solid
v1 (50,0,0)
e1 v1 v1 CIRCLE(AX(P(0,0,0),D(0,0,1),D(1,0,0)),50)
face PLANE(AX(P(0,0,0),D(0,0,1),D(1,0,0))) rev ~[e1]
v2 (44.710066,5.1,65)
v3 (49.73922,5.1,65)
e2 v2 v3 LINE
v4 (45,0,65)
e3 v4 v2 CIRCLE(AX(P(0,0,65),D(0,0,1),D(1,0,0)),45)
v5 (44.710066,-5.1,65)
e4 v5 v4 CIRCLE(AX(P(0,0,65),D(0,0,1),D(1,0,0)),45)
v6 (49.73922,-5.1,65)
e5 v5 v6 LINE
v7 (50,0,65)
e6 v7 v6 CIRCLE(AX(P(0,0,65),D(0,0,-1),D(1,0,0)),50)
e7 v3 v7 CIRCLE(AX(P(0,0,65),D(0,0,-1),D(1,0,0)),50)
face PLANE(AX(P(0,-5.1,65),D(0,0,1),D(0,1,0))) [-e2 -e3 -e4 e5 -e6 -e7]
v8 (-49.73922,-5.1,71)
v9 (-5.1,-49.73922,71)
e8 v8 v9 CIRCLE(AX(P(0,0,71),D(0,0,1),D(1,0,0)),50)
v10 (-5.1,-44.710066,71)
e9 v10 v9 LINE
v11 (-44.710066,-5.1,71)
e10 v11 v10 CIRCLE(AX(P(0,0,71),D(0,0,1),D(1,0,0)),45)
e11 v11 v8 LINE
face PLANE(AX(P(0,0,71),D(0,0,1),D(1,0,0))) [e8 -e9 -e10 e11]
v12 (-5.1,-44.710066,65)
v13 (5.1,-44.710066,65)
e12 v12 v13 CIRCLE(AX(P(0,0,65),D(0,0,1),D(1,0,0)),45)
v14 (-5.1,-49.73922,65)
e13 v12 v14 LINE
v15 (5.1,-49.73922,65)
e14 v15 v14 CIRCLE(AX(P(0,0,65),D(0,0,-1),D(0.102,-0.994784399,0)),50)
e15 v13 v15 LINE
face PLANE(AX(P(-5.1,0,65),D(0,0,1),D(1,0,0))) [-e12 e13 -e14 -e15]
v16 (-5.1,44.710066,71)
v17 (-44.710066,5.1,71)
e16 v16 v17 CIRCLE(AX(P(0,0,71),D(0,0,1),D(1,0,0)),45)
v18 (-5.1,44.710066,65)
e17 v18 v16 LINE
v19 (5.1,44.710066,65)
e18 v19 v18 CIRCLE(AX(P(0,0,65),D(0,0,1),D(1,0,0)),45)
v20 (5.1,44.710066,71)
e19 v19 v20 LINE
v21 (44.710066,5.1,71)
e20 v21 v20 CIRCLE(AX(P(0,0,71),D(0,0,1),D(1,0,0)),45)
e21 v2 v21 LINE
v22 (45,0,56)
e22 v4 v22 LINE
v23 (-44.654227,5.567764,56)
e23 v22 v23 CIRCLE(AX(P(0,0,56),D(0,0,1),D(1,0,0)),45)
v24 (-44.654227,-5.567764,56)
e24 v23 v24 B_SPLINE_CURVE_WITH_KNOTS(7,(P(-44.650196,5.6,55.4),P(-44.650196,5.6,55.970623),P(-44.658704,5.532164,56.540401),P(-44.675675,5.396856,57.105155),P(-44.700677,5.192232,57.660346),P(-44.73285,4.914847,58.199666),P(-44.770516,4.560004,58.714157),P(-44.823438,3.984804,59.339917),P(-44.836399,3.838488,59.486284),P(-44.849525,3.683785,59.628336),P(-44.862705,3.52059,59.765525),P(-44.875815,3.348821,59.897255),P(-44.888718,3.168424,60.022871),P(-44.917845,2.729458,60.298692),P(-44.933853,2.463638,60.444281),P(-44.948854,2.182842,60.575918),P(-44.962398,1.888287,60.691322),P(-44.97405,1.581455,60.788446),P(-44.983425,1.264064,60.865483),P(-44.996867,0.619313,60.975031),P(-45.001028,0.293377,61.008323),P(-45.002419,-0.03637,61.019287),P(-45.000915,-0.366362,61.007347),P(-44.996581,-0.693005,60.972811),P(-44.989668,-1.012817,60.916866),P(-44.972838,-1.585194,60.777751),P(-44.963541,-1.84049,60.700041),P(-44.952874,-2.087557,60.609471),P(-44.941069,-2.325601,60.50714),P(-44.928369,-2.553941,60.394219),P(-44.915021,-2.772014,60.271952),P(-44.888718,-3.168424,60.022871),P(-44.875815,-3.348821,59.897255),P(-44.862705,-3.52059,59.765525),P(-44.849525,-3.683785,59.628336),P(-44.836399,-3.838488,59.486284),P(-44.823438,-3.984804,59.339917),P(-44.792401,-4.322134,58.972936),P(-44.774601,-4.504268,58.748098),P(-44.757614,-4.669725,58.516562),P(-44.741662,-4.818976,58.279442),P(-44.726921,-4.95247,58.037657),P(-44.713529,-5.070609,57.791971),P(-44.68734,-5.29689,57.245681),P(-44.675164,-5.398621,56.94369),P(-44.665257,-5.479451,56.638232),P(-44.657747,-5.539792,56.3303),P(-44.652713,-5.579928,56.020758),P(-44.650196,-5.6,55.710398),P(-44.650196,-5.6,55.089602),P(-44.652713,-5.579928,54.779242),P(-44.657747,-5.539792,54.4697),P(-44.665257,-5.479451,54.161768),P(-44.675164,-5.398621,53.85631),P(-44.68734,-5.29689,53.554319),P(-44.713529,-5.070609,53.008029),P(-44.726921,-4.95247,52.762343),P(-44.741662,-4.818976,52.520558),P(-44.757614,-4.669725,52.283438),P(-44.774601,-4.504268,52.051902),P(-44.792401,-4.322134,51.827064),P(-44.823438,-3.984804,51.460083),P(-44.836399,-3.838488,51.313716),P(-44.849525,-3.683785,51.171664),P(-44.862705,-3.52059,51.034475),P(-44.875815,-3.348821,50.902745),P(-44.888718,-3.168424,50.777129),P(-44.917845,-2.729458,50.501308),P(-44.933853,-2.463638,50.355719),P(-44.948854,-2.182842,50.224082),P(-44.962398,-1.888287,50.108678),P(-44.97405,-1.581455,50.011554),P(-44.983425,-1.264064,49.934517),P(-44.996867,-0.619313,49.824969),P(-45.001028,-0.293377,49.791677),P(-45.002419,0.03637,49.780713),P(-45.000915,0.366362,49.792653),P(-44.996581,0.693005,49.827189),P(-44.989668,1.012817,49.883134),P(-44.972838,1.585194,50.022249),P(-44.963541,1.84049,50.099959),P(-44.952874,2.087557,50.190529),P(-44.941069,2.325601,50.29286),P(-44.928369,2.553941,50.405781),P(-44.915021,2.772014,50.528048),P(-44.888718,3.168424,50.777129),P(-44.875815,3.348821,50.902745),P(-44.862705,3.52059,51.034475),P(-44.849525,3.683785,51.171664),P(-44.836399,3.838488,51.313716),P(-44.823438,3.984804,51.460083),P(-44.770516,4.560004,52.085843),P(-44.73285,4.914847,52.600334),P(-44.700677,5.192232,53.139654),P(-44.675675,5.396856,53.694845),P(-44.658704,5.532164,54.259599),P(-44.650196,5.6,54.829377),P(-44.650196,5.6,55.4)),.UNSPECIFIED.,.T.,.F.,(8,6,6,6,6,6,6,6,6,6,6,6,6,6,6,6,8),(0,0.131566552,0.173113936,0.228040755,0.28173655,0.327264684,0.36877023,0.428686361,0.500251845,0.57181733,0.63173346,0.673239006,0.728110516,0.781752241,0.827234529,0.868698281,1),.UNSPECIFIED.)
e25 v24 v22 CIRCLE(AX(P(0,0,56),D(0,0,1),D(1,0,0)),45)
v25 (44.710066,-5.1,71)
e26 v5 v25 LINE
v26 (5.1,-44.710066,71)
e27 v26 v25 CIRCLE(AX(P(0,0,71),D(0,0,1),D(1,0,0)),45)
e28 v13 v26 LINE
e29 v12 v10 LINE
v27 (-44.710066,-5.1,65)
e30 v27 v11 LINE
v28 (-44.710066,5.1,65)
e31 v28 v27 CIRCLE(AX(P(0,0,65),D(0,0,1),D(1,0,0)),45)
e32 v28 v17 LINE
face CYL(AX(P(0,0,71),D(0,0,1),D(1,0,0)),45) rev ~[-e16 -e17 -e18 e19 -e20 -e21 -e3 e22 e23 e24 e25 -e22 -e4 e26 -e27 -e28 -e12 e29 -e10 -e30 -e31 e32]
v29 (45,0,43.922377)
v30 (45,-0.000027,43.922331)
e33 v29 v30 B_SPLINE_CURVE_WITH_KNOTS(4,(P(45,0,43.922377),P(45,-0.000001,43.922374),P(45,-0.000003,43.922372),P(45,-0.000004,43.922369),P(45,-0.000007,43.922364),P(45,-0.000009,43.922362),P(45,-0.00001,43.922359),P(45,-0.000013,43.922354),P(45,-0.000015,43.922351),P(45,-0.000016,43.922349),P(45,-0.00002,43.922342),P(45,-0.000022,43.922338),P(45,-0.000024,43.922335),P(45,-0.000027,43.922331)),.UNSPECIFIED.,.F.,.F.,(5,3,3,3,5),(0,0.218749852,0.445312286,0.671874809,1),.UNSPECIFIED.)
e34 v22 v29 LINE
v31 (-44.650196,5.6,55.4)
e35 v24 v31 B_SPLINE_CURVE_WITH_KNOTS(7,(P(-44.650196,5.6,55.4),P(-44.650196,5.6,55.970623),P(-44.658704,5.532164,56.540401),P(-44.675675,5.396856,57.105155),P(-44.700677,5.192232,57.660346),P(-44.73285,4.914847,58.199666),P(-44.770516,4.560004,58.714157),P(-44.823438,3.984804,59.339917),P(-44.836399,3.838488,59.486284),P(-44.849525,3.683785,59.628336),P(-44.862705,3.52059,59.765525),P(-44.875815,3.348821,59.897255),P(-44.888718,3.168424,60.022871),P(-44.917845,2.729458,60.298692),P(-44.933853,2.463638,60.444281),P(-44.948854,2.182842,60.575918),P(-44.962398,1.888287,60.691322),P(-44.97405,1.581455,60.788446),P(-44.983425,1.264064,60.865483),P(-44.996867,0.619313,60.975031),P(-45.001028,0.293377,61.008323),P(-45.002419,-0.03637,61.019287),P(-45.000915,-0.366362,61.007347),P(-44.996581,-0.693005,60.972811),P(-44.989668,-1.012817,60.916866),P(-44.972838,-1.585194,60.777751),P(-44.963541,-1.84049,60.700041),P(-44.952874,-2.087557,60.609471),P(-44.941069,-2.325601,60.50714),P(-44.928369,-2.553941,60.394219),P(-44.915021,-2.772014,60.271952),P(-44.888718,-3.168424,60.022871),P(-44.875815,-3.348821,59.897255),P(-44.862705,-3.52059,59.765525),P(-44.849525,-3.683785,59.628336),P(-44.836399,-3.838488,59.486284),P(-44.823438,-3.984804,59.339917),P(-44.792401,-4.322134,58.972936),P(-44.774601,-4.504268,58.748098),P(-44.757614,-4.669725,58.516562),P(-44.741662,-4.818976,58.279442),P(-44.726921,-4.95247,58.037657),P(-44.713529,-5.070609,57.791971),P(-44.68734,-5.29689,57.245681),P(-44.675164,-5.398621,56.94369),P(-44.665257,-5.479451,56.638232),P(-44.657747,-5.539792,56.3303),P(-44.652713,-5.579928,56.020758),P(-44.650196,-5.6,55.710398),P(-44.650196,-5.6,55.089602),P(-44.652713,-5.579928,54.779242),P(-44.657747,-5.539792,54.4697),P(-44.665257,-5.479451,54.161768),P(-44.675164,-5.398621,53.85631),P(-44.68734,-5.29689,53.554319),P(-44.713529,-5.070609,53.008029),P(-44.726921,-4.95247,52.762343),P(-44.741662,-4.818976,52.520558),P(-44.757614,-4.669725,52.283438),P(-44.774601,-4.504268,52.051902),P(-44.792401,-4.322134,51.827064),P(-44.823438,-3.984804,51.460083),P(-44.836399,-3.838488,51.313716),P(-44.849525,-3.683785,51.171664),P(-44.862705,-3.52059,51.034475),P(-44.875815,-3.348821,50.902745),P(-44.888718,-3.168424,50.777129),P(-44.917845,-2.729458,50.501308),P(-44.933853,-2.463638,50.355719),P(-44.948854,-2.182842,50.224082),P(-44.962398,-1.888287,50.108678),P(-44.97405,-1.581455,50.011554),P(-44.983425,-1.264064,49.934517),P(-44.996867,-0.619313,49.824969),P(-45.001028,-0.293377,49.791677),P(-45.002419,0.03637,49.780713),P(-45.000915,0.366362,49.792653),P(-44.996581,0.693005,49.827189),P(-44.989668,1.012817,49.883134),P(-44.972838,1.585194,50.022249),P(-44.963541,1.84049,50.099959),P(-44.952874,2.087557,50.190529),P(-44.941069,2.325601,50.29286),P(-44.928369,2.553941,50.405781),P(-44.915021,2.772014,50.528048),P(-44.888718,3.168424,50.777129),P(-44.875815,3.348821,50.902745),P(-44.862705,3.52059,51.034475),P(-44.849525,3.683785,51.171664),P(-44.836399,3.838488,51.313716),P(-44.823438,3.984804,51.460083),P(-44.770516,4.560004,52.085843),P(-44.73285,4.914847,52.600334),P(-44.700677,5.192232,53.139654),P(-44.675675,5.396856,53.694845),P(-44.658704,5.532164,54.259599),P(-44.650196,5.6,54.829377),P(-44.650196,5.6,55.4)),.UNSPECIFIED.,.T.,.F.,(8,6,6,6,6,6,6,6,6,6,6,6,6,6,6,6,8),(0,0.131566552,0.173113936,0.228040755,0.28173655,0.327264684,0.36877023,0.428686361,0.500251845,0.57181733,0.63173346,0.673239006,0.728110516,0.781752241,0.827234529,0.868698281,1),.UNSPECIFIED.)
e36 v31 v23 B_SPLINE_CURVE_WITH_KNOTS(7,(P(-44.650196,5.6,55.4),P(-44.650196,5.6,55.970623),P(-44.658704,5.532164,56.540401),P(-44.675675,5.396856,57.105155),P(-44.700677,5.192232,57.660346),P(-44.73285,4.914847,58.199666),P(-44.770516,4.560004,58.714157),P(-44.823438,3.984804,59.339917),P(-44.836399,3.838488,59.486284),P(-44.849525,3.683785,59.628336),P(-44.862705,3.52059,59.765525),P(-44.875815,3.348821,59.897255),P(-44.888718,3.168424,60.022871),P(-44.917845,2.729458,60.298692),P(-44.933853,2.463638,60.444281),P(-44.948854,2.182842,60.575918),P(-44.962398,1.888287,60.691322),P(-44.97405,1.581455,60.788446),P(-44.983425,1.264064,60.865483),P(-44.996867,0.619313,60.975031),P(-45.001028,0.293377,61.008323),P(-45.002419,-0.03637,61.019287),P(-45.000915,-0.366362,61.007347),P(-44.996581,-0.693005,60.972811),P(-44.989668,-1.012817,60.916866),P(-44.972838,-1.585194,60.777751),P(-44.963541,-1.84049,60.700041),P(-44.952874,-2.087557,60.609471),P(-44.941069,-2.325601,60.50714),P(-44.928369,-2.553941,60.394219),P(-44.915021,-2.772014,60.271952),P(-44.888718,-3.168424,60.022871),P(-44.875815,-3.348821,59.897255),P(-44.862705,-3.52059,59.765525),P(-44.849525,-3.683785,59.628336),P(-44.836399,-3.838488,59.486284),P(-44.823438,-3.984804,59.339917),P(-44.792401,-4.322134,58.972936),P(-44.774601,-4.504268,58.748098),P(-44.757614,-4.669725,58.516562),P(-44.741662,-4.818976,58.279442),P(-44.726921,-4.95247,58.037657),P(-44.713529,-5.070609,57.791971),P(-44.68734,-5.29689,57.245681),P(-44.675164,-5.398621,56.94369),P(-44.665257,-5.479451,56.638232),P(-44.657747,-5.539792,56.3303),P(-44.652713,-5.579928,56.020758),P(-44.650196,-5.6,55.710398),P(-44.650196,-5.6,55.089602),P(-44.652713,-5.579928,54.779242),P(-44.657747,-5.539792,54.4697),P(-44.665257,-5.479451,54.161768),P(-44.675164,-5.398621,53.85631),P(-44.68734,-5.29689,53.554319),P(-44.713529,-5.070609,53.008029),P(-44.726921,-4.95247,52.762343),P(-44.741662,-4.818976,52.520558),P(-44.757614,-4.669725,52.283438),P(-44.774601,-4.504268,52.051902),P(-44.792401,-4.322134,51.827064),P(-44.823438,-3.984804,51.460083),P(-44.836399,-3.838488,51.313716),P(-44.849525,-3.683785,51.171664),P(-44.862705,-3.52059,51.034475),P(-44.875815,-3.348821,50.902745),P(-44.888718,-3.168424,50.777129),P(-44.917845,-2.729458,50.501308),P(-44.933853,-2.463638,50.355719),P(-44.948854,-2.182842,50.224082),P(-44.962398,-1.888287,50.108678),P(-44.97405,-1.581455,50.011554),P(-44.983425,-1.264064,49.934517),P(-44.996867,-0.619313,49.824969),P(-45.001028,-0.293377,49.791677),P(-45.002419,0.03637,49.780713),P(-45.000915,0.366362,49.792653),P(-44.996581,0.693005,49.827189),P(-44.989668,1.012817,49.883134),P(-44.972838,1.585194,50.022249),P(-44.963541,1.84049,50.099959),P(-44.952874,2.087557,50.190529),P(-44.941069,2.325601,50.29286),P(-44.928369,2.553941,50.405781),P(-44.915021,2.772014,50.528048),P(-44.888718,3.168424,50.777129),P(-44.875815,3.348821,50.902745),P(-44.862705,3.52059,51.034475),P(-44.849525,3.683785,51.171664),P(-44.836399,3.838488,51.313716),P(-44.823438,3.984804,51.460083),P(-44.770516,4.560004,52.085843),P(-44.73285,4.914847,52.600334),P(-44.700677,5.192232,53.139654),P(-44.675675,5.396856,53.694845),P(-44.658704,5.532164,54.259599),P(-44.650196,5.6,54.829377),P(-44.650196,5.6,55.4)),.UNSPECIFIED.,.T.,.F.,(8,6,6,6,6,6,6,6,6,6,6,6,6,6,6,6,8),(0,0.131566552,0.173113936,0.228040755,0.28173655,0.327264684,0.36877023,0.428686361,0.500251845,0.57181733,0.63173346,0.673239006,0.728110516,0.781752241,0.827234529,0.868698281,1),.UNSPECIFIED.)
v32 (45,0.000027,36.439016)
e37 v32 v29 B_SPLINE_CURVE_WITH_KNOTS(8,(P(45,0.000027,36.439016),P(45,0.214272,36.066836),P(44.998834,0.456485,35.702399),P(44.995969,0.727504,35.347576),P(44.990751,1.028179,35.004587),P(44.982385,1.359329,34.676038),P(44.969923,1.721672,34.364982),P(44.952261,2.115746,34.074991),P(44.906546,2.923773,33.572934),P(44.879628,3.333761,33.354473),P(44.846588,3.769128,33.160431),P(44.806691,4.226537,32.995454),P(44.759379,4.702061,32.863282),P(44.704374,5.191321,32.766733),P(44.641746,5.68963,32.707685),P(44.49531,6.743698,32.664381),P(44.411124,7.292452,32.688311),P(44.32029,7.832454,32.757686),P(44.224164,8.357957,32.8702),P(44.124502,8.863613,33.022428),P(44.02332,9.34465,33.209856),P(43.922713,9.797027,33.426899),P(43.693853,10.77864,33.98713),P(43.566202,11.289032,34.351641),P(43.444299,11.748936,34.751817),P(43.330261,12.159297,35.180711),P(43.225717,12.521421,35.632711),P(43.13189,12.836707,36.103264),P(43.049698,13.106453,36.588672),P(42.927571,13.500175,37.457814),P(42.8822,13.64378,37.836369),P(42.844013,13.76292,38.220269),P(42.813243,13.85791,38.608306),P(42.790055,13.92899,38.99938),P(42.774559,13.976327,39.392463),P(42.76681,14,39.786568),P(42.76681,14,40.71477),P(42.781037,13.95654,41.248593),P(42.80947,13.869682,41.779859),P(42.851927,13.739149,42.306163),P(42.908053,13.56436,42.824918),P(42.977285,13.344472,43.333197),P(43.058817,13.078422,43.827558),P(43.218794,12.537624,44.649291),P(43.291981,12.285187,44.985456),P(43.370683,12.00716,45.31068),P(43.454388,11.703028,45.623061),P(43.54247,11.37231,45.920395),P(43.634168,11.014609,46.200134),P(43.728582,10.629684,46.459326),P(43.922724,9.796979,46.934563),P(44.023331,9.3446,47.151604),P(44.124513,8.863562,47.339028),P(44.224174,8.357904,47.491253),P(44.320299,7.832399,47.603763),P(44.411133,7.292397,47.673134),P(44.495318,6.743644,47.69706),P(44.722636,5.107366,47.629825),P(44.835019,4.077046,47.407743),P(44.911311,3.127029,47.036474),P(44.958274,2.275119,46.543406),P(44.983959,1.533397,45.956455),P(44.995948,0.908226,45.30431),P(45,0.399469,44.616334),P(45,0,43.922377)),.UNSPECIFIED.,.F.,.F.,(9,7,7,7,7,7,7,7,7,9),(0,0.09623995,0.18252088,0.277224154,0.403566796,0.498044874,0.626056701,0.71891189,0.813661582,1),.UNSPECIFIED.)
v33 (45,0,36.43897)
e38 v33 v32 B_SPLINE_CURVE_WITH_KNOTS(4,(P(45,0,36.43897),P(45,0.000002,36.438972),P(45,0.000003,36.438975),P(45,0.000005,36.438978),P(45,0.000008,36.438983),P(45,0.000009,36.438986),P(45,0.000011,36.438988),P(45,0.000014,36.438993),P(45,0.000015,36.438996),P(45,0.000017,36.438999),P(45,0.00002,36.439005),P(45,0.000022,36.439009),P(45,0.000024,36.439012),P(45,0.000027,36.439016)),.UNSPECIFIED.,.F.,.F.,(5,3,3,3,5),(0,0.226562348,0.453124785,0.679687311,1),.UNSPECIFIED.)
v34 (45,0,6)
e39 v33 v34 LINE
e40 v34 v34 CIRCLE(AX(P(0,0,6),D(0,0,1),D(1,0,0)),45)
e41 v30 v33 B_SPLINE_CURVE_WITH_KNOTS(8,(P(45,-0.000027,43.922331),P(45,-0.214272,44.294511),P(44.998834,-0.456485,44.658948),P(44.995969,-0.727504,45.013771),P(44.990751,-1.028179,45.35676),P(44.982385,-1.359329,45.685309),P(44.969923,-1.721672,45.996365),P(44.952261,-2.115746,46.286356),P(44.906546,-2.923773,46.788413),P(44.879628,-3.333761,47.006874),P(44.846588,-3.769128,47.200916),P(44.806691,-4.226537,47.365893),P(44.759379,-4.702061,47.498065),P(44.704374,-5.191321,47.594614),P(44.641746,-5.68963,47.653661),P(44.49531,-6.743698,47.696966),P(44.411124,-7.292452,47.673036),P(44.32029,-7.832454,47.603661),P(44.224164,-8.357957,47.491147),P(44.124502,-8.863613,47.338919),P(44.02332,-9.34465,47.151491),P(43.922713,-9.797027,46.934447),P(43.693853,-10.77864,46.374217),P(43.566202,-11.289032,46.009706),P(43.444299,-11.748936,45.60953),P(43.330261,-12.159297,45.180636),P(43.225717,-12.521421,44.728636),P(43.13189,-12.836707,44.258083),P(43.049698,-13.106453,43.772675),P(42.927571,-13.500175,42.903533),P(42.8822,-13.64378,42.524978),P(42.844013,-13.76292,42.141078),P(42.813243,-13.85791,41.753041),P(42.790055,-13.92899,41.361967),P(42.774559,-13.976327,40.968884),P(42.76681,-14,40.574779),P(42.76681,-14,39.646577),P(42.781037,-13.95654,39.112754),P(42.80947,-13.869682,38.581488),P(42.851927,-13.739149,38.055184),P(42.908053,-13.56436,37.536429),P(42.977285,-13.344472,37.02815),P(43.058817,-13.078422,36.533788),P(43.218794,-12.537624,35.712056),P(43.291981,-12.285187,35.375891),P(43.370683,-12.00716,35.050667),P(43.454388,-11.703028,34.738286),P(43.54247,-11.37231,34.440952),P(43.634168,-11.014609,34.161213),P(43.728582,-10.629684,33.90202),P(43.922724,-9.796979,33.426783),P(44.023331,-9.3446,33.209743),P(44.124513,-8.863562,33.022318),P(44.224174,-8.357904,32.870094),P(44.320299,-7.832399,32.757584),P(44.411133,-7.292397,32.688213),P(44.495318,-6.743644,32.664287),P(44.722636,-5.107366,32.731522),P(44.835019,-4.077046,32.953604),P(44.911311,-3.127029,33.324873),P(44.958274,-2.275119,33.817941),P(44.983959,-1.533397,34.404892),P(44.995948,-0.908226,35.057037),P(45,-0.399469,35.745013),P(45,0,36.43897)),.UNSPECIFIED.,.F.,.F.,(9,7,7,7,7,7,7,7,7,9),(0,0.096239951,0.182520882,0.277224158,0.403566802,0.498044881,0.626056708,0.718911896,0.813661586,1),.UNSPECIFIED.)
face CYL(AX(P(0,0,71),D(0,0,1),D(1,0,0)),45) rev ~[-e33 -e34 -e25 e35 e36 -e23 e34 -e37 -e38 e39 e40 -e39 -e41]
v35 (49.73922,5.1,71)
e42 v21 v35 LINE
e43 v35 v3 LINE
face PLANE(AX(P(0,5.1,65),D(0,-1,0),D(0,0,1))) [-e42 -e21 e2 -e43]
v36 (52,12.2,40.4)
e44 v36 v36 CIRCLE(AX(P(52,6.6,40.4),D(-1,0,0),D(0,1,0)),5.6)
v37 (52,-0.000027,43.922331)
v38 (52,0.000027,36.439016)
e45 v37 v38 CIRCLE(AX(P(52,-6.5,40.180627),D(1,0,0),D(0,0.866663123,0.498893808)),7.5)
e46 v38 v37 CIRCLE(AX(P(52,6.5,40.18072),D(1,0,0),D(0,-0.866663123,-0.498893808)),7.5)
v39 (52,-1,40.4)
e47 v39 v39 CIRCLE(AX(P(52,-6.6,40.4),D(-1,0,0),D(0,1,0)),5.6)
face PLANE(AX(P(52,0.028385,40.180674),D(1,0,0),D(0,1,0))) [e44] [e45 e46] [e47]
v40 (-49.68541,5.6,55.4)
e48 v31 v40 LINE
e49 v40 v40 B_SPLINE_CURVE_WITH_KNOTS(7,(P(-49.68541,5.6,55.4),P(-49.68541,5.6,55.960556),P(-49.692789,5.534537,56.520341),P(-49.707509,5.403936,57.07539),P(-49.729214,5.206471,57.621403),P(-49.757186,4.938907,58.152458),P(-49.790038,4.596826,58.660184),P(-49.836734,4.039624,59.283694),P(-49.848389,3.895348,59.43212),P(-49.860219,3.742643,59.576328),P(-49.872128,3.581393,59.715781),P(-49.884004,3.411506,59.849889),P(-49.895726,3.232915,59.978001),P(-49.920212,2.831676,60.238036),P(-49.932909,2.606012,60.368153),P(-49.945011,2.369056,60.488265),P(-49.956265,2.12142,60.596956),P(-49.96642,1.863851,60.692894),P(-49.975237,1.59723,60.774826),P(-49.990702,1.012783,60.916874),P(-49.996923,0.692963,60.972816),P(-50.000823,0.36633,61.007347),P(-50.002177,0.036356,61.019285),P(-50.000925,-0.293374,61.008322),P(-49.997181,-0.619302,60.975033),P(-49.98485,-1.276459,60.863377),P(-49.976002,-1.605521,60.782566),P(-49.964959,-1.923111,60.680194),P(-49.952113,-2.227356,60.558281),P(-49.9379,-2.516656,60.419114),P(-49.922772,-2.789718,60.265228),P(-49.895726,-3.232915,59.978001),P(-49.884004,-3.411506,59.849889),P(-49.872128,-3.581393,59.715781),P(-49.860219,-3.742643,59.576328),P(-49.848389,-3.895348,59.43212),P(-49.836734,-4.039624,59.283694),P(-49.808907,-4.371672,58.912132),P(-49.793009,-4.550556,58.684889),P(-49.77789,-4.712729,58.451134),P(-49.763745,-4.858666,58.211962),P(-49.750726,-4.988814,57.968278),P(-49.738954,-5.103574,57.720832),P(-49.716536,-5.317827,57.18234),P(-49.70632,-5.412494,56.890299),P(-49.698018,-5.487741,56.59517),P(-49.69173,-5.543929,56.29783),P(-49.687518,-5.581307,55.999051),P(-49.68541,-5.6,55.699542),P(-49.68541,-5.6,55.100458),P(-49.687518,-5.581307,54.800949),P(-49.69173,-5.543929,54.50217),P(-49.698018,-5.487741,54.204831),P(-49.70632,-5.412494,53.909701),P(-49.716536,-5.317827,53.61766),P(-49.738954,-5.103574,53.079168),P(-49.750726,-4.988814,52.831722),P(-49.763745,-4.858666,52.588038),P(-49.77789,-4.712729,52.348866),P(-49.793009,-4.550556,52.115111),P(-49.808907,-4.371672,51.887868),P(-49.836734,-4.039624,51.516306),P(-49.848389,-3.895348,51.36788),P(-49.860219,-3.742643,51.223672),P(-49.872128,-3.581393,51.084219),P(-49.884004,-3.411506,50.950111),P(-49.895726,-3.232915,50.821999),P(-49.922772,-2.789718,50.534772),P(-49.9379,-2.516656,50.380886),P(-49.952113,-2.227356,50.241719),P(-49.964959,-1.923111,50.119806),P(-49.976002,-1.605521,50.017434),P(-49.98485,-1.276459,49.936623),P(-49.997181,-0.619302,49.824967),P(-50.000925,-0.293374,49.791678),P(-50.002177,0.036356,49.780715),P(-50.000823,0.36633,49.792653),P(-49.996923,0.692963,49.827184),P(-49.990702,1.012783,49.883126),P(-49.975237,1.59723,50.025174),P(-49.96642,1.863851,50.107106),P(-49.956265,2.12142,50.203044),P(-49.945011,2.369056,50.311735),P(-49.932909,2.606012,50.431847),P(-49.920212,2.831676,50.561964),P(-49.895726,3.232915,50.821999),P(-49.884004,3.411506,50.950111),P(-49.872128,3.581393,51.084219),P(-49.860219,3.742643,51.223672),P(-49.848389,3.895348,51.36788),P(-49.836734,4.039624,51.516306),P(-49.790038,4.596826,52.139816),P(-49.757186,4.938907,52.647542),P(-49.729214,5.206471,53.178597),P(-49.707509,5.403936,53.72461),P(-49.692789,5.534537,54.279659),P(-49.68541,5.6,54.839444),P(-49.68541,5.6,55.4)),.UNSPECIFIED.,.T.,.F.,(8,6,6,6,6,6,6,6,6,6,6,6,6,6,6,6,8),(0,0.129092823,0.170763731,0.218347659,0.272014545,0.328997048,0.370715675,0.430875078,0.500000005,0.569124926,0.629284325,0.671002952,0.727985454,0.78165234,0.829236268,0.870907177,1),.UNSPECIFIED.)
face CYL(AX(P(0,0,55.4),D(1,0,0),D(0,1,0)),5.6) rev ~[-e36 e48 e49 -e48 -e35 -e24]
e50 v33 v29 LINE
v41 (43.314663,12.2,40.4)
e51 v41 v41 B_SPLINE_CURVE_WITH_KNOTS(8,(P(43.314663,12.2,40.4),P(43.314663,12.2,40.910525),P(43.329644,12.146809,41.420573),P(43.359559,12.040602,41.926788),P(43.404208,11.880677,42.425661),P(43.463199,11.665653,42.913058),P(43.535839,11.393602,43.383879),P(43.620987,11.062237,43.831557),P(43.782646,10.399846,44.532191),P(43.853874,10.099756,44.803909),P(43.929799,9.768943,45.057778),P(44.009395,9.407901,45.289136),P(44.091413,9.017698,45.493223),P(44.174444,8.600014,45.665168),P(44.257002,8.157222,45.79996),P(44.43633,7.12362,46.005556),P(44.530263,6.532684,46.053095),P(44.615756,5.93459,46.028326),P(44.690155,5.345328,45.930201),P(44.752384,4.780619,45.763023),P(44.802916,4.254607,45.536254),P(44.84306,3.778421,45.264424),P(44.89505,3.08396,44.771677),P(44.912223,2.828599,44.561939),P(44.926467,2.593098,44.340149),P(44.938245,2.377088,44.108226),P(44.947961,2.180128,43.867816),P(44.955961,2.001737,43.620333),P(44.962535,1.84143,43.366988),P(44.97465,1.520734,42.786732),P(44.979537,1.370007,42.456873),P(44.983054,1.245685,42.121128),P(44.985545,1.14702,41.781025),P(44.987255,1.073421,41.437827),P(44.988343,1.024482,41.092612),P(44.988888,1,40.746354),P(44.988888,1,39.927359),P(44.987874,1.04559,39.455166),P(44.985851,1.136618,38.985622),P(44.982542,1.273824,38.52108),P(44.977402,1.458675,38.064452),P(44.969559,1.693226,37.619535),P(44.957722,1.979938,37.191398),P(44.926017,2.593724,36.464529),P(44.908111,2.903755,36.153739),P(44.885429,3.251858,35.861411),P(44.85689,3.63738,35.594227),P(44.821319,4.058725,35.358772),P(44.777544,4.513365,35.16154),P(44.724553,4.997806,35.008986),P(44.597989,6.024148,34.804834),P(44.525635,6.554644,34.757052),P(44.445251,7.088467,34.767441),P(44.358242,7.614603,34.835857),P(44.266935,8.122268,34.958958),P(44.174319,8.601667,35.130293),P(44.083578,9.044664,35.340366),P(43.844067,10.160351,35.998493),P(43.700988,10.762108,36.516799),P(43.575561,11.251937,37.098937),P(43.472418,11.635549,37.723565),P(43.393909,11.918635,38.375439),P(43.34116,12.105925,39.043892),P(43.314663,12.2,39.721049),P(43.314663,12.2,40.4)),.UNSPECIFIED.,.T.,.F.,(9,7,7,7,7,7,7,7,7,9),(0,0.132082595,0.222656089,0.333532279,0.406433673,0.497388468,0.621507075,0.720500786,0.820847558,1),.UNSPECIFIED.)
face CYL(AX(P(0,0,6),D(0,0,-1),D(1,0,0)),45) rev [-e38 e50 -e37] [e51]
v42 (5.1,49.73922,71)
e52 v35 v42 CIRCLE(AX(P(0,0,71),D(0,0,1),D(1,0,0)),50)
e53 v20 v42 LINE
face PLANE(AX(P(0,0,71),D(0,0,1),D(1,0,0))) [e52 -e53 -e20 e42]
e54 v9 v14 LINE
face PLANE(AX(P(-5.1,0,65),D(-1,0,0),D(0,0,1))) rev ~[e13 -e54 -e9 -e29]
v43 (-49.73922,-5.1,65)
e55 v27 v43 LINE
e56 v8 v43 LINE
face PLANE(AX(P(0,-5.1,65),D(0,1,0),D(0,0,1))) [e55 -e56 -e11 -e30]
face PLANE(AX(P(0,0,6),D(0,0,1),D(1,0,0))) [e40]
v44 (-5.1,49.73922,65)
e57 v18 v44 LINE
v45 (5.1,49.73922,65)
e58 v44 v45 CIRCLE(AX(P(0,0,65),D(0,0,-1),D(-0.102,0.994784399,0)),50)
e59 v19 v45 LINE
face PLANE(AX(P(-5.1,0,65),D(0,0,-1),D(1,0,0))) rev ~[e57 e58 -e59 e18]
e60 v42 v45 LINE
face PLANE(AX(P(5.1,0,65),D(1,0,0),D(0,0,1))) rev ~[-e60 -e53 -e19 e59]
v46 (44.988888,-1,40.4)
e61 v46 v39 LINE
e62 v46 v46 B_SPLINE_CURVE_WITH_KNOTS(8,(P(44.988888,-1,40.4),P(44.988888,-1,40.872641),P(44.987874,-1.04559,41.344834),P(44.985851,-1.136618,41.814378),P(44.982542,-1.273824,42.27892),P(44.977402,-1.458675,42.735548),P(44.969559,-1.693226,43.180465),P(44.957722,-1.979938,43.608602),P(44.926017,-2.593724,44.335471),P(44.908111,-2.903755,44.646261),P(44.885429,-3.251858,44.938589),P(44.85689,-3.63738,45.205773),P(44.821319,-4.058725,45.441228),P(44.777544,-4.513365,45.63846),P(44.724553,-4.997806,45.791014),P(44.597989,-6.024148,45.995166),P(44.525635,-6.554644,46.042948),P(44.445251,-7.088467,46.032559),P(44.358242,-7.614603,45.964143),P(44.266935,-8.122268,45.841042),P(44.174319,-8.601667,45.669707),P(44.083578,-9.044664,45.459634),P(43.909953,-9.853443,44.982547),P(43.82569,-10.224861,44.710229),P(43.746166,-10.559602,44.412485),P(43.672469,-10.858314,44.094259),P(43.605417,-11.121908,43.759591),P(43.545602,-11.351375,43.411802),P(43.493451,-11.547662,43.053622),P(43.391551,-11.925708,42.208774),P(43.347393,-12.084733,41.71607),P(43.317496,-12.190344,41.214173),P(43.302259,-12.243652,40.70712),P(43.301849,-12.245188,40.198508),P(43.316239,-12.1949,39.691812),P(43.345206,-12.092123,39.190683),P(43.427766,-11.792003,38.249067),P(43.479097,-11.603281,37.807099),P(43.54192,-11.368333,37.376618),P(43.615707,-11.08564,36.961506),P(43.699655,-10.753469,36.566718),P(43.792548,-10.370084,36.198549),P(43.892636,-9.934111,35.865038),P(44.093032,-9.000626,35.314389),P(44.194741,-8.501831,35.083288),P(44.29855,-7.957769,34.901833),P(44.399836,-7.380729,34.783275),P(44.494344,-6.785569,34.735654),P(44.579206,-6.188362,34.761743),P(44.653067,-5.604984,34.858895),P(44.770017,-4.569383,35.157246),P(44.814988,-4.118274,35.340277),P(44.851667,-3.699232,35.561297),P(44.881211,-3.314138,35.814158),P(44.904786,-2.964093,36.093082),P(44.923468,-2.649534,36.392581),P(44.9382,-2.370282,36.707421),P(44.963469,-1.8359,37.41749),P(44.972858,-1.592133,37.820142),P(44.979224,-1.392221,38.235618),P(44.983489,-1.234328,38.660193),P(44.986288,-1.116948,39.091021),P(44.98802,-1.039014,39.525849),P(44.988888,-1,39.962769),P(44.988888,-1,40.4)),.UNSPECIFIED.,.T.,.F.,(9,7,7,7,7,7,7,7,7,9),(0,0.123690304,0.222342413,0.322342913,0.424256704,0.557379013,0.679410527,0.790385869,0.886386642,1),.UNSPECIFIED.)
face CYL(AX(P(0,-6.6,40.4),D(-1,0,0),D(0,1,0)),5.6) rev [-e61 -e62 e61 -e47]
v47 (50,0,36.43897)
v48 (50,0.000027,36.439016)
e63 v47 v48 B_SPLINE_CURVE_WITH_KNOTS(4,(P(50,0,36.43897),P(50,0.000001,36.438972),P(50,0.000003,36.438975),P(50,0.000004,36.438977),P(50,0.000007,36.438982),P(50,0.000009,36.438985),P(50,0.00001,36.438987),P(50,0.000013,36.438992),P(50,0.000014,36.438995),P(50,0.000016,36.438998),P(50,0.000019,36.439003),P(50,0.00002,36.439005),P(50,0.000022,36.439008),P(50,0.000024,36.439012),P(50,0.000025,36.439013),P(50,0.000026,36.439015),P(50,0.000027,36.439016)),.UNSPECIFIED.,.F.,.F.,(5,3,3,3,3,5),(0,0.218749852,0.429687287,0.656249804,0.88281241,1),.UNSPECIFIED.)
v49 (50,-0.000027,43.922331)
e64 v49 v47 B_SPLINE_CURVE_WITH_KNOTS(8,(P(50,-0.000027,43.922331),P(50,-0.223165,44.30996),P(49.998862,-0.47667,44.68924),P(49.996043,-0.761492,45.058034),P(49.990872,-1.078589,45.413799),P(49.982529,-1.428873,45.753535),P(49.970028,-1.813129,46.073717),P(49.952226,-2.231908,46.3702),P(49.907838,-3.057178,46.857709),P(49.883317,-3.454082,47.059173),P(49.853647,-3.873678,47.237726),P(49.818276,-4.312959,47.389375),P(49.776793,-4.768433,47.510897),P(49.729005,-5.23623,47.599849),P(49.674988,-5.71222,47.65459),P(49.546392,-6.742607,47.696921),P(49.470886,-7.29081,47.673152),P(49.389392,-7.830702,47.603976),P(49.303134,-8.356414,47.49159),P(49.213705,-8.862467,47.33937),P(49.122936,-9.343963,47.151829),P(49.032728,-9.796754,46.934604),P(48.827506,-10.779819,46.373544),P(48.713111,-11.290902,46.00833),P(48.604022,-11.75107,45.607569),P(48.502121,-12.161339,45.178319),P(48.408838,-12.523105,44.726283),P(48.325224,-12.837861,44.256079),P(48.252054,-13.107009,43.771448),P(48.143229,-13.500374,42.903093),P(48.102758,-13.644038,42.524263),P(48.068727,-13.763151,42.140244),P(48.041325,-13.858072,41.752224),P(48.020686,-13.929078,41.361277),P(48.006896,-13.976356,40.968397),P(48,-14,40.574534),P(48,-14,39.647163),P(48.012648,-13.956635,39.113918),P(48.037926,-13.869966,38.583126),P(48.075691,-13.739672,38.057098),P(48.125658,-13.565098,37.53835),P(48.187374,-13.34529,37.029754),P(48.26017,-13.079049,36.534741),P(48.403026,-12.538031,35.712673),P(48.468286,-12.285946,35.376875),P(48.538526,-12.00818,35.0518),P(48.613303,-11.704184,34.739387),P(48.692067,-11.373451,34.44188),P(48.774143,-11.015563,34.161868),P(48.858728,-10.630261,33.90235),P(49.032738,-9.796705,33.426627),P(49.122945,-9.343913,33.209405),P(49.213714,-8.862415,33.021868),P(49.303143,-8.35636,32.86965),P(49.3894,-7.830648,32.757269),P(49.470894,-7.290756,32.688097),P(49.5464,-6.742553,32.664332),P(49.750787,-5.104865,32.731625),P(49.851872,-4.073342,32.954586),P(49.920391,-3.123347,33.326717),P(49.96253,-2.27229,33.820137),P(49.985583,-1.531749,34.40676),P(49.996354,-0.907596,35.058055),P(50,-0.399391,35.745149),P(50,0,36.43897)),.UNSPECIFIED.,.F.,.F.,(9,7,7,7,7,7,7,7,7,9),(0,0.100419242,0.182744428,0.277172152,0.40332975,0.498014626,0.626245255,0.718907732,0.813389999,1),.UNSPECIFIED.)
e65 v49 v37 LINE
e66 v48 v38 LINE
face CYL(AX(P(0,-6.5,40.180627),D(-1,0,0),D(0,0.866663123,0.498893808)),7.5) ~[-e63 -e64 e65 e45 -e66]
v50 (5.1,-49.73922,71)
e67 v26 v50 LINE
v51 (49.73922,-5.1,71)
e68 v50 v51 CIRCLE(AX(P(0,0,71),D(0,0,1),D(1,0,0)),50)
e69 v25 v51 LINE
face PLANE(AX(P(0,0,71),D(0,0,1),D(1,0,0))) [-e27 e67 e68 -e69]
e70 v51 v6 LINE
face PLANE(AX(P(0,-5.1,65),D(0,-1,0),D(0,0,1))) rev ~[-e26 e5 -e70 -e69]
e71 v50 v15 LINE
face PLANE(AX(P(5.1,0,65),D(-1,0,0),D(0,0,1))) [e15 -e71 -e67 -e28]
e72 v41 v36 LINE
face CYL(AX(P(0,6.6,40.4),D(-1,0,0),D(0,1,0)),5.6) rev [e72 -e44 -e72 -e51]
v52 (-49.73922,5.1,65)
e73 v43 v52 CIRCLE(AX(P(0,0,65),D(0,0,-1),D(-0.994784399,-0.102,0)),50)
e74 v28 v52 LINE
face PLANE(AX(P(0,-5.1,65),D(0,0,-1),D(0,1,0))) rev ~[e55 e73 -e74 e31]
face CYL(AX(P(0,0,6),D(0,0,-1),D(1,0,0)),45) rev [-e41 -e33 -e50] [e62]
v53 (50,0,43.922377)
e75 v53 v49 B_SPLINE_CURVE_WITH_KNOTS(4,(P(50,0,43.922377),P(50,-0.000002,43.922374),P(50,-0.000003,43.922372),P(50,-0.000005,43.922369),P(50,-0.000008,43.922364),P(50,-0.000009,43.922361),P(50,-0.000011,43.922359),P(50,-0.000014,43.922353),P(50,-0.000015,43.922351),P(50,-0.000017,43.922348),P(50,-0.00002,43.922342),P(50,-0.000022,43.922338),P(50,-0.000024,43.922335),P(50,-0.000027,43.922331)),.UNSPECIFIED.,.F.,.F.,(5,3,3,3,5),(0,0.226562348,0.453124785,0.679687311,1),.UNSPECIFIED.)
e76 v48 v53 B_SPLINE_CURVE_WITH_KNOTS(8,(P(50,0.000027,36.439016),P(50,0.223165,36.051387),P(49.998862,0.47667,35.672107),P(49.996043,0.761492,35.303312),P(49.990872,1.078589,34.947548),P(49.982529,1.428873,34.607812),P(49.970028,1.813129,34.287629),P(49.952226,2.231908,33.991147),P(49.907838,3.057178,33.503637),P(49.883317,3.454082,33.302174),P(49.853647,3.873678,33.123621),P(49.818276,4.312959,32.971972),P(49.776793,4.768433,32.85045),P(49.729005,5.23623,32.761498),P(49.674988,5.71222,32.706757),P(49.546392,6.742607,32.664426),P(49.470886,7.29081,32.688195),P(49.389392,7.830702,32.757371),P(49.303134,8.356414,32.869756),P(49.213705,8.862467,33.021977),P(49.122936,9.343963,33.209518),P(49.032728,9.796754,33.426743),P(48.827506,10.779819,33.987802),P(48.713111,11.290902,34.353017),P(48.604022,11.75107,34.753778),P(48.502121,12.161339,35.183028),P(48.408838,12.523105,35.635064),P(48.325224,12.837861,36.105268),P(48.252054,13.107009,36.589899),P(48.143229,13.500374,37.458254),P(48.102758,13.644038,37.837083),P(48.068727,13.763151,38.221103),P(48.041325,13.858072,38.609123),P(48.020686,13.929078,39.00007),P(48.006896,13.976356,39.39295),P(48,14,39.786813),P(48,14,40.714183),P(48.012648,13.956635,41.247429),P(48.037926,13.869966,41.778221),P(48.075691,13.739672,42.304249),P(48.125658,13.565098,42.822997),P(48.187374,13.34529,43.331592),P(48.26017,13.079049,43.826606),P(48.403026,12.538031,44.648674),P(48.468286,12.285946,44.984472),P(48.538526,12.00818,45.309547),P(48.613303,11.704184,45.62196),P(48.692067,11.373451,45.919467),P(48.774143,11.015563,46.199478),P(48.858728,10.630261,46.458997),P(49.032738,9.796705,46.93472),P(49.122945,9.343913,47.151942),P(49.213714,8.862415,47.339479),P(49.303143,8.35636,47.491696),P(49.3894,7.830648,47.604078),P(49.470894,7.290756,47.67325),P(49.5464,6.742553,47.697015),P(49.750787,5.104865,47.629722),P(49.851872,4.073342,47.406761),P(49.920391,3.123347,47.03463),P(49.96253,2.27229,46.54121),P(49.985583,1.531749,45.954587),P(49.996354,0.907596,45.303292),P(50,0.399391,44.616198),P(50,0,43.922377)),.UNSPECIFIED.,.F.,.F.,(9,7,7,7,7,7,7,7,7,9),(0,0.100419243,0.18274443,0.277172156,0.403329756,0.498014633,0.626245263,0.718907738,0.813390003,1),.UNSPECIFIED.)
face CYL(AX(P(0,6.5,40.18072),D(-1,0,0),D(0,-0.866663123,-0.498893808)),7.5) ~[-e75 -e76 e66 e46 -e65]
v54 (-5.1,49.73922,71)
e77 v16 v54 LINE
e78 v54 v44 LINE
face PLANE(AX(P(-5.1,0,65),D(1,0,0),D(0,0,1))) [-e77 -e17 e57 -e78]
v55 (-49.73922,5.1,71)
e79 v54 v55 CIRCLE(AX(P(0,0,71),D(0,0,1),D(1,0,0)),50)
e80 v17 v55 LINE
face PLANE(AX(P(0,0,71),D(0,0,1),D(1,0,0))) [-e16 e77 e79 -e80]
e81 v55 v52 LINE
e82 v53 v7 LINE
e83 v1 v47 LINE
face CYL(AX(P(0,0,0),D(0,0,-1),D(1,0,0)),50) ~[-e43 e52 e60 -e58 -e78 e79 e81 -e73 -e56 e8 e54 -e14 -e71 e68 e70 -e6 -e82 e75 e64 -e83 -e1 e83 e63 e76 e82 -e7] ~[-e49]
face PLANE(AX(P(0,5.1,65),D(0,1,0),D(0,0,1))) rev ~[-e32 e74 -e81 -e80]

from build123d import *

# Parameters (mm, degrees)
F0_R      = 50
F1_DEPTH  = 71
F2_R      = 45
F3_DEPTH  = 65
F4_W      = 10.2
F4_H      = 6
F5_DEPTH  = 50
F6_W      = 10.2
F6_H      = 6
F7_DEPTH  = 50
F8_W      = 10.2
F8_H      = 6
F9_DEPTH  = 50
F10_W     = 10.2
F10_H     = 6
F11_DEPTH = 50
F12_R     = 5.6
F13_DEPTH = 55
F14_R     = 5.6
F15_DEPTH = 56
F17_DEPTH = 52
F18_DEPTH = 55
F19_R     = 45
F20_DEPTH = 50


with BuildPart() as f1:
    # F0 (on Top) → F1 (new body)
    with BuildSketch(Plane.XY):
        Circle(F0_R)
    extrude(amount=F1_DEPTH)

    # F2 (on face) → F3 (cut)
    with BuildSketch(Plane.XY.offset(71)):
        Circle(F2_R)
    extrude(amount=-F3_DEPTH, mode=Mode.SUBTRACT)

    # F4 (on Front) → F5 (cut)
    with BuildSketch(Plane.XZ):
        with Locations((0, 68)):
            Rectangle(F4_W, F4_H)
    extrude(amount=-F5_DEPTH, mode=Mode.SUBTRACT)

    # F6 (on Front) → F7 (cut)
    with BuildSketch(Plane.XZ):
        with Locations((0, 68)):
            Rectangle(F6_W, F6_H)
    extrude(amount=F7_DEPTH, mode=Mode.SUBTRACT)

    # F8 (on Right) → F9 (cut)
    with BuildSketch(Plane.YZ):
        with Locations((0, 68)):
            Rectangle(F8_W, F8_H)
    extrude(amount=-F9_DEPTH, mode=Mode.SUBTRACT)

    # F10 (on Right) → F11 (cut)
    with BuildSketch(Plane.YZ):
        with Locations((0, 68)):
            Rectangle(F10_W, F10_H)
    extrude(amount=F11_DEPTH, mode=Mode.SUBTRACT)

    # F12 (on Right) → F13 (cut)
    with BuildSketch(Plane.YZ):
        with Locations((0, 55.4)):
            Circle(F12_R)
    extrude(amount=-F13_DEPTH, mode=Mode.SUBTRACT)

    # F14 (on Right) → F15 (cut)
    with BuildSketch(Plane.YZ):
        with Locations((-6.6, 40.4)):
            Circle(F14_R)
        with Locations((6.6, 40.4)):
            Circle(F14_R)
    extrude(amount=F15_DEPTH, mode=Mode.SUBTRACT)

    # F16 (on Right) → F17 (join)
    with BuildSketch(Plane.YZ):
        with BuildLine():
            ThreePointArc((2.6579e-05, 36.4390160432), (0.7456952511, 38.2441613187), (1, 40.1806272566))
            ThreePointArc((1, 40.1806272566), (0.7456814951, 42.1171446646), (-2.6579e-05, 43.922330816))
            ThreePointArc((-2.6579e-05, 43.922330816), (-0.9999999998, 40.1806663261), (2.6579e-05, 36.4390160432))
        make_face()
        with BuildLine():
            ThreePointArc((-2.6579e-05, 43.922330816), (0.7456814951, 42.1171446646), (1, 40.1806272566))
            ThreePointArc((1, 40.1806272566), (0.7456952511, 38.2441613187), (2.6579e-05, 36.4390160432))
            ThreePointArc((2.6579e-05, 36.4390160432), (8.4365174079, 32.9350381074), (14, 40.1807196026))
            ThreePointArc((14, 40.1807196026), (8.4364659379, 47.4264148536), (-2.6579e-05, 43.922330816))
        make_face()
        with BuildLine():
            ThreePointArc((2.6579e-05, 36.4390160432), (-0.9999999998, 40.1806663261), (-2.6579e-05, 43.922330816))
            ThreePointArc((-2.6579e-05, 43.922330816), (-13.9999999998, 40.1805739801), (2.6579e-05, 36.4390160432))
        make_face()
    extrude(amount=F17_DEPTH)

    # F14 (on Right) → F18 (cut)
    with BuildSketch(Plane.YZ):
        with Locations((-6.6, 40.4)):
            Circle(F14_R)
        with Locations((6.6, 40.4)):
            Circle(F14_R)
    extrude(amount=F18_DEPTH, mode=Mode.SUBTRACT)

    # F19 (on face) → F20 (cut)
    with BuildSketch(Plane.XY.offset(6)):
        Circle(F19_R)
    extrude(amount=F20_DEPTH, mode=Mode.SUBTRACT)


solid = f1.part
